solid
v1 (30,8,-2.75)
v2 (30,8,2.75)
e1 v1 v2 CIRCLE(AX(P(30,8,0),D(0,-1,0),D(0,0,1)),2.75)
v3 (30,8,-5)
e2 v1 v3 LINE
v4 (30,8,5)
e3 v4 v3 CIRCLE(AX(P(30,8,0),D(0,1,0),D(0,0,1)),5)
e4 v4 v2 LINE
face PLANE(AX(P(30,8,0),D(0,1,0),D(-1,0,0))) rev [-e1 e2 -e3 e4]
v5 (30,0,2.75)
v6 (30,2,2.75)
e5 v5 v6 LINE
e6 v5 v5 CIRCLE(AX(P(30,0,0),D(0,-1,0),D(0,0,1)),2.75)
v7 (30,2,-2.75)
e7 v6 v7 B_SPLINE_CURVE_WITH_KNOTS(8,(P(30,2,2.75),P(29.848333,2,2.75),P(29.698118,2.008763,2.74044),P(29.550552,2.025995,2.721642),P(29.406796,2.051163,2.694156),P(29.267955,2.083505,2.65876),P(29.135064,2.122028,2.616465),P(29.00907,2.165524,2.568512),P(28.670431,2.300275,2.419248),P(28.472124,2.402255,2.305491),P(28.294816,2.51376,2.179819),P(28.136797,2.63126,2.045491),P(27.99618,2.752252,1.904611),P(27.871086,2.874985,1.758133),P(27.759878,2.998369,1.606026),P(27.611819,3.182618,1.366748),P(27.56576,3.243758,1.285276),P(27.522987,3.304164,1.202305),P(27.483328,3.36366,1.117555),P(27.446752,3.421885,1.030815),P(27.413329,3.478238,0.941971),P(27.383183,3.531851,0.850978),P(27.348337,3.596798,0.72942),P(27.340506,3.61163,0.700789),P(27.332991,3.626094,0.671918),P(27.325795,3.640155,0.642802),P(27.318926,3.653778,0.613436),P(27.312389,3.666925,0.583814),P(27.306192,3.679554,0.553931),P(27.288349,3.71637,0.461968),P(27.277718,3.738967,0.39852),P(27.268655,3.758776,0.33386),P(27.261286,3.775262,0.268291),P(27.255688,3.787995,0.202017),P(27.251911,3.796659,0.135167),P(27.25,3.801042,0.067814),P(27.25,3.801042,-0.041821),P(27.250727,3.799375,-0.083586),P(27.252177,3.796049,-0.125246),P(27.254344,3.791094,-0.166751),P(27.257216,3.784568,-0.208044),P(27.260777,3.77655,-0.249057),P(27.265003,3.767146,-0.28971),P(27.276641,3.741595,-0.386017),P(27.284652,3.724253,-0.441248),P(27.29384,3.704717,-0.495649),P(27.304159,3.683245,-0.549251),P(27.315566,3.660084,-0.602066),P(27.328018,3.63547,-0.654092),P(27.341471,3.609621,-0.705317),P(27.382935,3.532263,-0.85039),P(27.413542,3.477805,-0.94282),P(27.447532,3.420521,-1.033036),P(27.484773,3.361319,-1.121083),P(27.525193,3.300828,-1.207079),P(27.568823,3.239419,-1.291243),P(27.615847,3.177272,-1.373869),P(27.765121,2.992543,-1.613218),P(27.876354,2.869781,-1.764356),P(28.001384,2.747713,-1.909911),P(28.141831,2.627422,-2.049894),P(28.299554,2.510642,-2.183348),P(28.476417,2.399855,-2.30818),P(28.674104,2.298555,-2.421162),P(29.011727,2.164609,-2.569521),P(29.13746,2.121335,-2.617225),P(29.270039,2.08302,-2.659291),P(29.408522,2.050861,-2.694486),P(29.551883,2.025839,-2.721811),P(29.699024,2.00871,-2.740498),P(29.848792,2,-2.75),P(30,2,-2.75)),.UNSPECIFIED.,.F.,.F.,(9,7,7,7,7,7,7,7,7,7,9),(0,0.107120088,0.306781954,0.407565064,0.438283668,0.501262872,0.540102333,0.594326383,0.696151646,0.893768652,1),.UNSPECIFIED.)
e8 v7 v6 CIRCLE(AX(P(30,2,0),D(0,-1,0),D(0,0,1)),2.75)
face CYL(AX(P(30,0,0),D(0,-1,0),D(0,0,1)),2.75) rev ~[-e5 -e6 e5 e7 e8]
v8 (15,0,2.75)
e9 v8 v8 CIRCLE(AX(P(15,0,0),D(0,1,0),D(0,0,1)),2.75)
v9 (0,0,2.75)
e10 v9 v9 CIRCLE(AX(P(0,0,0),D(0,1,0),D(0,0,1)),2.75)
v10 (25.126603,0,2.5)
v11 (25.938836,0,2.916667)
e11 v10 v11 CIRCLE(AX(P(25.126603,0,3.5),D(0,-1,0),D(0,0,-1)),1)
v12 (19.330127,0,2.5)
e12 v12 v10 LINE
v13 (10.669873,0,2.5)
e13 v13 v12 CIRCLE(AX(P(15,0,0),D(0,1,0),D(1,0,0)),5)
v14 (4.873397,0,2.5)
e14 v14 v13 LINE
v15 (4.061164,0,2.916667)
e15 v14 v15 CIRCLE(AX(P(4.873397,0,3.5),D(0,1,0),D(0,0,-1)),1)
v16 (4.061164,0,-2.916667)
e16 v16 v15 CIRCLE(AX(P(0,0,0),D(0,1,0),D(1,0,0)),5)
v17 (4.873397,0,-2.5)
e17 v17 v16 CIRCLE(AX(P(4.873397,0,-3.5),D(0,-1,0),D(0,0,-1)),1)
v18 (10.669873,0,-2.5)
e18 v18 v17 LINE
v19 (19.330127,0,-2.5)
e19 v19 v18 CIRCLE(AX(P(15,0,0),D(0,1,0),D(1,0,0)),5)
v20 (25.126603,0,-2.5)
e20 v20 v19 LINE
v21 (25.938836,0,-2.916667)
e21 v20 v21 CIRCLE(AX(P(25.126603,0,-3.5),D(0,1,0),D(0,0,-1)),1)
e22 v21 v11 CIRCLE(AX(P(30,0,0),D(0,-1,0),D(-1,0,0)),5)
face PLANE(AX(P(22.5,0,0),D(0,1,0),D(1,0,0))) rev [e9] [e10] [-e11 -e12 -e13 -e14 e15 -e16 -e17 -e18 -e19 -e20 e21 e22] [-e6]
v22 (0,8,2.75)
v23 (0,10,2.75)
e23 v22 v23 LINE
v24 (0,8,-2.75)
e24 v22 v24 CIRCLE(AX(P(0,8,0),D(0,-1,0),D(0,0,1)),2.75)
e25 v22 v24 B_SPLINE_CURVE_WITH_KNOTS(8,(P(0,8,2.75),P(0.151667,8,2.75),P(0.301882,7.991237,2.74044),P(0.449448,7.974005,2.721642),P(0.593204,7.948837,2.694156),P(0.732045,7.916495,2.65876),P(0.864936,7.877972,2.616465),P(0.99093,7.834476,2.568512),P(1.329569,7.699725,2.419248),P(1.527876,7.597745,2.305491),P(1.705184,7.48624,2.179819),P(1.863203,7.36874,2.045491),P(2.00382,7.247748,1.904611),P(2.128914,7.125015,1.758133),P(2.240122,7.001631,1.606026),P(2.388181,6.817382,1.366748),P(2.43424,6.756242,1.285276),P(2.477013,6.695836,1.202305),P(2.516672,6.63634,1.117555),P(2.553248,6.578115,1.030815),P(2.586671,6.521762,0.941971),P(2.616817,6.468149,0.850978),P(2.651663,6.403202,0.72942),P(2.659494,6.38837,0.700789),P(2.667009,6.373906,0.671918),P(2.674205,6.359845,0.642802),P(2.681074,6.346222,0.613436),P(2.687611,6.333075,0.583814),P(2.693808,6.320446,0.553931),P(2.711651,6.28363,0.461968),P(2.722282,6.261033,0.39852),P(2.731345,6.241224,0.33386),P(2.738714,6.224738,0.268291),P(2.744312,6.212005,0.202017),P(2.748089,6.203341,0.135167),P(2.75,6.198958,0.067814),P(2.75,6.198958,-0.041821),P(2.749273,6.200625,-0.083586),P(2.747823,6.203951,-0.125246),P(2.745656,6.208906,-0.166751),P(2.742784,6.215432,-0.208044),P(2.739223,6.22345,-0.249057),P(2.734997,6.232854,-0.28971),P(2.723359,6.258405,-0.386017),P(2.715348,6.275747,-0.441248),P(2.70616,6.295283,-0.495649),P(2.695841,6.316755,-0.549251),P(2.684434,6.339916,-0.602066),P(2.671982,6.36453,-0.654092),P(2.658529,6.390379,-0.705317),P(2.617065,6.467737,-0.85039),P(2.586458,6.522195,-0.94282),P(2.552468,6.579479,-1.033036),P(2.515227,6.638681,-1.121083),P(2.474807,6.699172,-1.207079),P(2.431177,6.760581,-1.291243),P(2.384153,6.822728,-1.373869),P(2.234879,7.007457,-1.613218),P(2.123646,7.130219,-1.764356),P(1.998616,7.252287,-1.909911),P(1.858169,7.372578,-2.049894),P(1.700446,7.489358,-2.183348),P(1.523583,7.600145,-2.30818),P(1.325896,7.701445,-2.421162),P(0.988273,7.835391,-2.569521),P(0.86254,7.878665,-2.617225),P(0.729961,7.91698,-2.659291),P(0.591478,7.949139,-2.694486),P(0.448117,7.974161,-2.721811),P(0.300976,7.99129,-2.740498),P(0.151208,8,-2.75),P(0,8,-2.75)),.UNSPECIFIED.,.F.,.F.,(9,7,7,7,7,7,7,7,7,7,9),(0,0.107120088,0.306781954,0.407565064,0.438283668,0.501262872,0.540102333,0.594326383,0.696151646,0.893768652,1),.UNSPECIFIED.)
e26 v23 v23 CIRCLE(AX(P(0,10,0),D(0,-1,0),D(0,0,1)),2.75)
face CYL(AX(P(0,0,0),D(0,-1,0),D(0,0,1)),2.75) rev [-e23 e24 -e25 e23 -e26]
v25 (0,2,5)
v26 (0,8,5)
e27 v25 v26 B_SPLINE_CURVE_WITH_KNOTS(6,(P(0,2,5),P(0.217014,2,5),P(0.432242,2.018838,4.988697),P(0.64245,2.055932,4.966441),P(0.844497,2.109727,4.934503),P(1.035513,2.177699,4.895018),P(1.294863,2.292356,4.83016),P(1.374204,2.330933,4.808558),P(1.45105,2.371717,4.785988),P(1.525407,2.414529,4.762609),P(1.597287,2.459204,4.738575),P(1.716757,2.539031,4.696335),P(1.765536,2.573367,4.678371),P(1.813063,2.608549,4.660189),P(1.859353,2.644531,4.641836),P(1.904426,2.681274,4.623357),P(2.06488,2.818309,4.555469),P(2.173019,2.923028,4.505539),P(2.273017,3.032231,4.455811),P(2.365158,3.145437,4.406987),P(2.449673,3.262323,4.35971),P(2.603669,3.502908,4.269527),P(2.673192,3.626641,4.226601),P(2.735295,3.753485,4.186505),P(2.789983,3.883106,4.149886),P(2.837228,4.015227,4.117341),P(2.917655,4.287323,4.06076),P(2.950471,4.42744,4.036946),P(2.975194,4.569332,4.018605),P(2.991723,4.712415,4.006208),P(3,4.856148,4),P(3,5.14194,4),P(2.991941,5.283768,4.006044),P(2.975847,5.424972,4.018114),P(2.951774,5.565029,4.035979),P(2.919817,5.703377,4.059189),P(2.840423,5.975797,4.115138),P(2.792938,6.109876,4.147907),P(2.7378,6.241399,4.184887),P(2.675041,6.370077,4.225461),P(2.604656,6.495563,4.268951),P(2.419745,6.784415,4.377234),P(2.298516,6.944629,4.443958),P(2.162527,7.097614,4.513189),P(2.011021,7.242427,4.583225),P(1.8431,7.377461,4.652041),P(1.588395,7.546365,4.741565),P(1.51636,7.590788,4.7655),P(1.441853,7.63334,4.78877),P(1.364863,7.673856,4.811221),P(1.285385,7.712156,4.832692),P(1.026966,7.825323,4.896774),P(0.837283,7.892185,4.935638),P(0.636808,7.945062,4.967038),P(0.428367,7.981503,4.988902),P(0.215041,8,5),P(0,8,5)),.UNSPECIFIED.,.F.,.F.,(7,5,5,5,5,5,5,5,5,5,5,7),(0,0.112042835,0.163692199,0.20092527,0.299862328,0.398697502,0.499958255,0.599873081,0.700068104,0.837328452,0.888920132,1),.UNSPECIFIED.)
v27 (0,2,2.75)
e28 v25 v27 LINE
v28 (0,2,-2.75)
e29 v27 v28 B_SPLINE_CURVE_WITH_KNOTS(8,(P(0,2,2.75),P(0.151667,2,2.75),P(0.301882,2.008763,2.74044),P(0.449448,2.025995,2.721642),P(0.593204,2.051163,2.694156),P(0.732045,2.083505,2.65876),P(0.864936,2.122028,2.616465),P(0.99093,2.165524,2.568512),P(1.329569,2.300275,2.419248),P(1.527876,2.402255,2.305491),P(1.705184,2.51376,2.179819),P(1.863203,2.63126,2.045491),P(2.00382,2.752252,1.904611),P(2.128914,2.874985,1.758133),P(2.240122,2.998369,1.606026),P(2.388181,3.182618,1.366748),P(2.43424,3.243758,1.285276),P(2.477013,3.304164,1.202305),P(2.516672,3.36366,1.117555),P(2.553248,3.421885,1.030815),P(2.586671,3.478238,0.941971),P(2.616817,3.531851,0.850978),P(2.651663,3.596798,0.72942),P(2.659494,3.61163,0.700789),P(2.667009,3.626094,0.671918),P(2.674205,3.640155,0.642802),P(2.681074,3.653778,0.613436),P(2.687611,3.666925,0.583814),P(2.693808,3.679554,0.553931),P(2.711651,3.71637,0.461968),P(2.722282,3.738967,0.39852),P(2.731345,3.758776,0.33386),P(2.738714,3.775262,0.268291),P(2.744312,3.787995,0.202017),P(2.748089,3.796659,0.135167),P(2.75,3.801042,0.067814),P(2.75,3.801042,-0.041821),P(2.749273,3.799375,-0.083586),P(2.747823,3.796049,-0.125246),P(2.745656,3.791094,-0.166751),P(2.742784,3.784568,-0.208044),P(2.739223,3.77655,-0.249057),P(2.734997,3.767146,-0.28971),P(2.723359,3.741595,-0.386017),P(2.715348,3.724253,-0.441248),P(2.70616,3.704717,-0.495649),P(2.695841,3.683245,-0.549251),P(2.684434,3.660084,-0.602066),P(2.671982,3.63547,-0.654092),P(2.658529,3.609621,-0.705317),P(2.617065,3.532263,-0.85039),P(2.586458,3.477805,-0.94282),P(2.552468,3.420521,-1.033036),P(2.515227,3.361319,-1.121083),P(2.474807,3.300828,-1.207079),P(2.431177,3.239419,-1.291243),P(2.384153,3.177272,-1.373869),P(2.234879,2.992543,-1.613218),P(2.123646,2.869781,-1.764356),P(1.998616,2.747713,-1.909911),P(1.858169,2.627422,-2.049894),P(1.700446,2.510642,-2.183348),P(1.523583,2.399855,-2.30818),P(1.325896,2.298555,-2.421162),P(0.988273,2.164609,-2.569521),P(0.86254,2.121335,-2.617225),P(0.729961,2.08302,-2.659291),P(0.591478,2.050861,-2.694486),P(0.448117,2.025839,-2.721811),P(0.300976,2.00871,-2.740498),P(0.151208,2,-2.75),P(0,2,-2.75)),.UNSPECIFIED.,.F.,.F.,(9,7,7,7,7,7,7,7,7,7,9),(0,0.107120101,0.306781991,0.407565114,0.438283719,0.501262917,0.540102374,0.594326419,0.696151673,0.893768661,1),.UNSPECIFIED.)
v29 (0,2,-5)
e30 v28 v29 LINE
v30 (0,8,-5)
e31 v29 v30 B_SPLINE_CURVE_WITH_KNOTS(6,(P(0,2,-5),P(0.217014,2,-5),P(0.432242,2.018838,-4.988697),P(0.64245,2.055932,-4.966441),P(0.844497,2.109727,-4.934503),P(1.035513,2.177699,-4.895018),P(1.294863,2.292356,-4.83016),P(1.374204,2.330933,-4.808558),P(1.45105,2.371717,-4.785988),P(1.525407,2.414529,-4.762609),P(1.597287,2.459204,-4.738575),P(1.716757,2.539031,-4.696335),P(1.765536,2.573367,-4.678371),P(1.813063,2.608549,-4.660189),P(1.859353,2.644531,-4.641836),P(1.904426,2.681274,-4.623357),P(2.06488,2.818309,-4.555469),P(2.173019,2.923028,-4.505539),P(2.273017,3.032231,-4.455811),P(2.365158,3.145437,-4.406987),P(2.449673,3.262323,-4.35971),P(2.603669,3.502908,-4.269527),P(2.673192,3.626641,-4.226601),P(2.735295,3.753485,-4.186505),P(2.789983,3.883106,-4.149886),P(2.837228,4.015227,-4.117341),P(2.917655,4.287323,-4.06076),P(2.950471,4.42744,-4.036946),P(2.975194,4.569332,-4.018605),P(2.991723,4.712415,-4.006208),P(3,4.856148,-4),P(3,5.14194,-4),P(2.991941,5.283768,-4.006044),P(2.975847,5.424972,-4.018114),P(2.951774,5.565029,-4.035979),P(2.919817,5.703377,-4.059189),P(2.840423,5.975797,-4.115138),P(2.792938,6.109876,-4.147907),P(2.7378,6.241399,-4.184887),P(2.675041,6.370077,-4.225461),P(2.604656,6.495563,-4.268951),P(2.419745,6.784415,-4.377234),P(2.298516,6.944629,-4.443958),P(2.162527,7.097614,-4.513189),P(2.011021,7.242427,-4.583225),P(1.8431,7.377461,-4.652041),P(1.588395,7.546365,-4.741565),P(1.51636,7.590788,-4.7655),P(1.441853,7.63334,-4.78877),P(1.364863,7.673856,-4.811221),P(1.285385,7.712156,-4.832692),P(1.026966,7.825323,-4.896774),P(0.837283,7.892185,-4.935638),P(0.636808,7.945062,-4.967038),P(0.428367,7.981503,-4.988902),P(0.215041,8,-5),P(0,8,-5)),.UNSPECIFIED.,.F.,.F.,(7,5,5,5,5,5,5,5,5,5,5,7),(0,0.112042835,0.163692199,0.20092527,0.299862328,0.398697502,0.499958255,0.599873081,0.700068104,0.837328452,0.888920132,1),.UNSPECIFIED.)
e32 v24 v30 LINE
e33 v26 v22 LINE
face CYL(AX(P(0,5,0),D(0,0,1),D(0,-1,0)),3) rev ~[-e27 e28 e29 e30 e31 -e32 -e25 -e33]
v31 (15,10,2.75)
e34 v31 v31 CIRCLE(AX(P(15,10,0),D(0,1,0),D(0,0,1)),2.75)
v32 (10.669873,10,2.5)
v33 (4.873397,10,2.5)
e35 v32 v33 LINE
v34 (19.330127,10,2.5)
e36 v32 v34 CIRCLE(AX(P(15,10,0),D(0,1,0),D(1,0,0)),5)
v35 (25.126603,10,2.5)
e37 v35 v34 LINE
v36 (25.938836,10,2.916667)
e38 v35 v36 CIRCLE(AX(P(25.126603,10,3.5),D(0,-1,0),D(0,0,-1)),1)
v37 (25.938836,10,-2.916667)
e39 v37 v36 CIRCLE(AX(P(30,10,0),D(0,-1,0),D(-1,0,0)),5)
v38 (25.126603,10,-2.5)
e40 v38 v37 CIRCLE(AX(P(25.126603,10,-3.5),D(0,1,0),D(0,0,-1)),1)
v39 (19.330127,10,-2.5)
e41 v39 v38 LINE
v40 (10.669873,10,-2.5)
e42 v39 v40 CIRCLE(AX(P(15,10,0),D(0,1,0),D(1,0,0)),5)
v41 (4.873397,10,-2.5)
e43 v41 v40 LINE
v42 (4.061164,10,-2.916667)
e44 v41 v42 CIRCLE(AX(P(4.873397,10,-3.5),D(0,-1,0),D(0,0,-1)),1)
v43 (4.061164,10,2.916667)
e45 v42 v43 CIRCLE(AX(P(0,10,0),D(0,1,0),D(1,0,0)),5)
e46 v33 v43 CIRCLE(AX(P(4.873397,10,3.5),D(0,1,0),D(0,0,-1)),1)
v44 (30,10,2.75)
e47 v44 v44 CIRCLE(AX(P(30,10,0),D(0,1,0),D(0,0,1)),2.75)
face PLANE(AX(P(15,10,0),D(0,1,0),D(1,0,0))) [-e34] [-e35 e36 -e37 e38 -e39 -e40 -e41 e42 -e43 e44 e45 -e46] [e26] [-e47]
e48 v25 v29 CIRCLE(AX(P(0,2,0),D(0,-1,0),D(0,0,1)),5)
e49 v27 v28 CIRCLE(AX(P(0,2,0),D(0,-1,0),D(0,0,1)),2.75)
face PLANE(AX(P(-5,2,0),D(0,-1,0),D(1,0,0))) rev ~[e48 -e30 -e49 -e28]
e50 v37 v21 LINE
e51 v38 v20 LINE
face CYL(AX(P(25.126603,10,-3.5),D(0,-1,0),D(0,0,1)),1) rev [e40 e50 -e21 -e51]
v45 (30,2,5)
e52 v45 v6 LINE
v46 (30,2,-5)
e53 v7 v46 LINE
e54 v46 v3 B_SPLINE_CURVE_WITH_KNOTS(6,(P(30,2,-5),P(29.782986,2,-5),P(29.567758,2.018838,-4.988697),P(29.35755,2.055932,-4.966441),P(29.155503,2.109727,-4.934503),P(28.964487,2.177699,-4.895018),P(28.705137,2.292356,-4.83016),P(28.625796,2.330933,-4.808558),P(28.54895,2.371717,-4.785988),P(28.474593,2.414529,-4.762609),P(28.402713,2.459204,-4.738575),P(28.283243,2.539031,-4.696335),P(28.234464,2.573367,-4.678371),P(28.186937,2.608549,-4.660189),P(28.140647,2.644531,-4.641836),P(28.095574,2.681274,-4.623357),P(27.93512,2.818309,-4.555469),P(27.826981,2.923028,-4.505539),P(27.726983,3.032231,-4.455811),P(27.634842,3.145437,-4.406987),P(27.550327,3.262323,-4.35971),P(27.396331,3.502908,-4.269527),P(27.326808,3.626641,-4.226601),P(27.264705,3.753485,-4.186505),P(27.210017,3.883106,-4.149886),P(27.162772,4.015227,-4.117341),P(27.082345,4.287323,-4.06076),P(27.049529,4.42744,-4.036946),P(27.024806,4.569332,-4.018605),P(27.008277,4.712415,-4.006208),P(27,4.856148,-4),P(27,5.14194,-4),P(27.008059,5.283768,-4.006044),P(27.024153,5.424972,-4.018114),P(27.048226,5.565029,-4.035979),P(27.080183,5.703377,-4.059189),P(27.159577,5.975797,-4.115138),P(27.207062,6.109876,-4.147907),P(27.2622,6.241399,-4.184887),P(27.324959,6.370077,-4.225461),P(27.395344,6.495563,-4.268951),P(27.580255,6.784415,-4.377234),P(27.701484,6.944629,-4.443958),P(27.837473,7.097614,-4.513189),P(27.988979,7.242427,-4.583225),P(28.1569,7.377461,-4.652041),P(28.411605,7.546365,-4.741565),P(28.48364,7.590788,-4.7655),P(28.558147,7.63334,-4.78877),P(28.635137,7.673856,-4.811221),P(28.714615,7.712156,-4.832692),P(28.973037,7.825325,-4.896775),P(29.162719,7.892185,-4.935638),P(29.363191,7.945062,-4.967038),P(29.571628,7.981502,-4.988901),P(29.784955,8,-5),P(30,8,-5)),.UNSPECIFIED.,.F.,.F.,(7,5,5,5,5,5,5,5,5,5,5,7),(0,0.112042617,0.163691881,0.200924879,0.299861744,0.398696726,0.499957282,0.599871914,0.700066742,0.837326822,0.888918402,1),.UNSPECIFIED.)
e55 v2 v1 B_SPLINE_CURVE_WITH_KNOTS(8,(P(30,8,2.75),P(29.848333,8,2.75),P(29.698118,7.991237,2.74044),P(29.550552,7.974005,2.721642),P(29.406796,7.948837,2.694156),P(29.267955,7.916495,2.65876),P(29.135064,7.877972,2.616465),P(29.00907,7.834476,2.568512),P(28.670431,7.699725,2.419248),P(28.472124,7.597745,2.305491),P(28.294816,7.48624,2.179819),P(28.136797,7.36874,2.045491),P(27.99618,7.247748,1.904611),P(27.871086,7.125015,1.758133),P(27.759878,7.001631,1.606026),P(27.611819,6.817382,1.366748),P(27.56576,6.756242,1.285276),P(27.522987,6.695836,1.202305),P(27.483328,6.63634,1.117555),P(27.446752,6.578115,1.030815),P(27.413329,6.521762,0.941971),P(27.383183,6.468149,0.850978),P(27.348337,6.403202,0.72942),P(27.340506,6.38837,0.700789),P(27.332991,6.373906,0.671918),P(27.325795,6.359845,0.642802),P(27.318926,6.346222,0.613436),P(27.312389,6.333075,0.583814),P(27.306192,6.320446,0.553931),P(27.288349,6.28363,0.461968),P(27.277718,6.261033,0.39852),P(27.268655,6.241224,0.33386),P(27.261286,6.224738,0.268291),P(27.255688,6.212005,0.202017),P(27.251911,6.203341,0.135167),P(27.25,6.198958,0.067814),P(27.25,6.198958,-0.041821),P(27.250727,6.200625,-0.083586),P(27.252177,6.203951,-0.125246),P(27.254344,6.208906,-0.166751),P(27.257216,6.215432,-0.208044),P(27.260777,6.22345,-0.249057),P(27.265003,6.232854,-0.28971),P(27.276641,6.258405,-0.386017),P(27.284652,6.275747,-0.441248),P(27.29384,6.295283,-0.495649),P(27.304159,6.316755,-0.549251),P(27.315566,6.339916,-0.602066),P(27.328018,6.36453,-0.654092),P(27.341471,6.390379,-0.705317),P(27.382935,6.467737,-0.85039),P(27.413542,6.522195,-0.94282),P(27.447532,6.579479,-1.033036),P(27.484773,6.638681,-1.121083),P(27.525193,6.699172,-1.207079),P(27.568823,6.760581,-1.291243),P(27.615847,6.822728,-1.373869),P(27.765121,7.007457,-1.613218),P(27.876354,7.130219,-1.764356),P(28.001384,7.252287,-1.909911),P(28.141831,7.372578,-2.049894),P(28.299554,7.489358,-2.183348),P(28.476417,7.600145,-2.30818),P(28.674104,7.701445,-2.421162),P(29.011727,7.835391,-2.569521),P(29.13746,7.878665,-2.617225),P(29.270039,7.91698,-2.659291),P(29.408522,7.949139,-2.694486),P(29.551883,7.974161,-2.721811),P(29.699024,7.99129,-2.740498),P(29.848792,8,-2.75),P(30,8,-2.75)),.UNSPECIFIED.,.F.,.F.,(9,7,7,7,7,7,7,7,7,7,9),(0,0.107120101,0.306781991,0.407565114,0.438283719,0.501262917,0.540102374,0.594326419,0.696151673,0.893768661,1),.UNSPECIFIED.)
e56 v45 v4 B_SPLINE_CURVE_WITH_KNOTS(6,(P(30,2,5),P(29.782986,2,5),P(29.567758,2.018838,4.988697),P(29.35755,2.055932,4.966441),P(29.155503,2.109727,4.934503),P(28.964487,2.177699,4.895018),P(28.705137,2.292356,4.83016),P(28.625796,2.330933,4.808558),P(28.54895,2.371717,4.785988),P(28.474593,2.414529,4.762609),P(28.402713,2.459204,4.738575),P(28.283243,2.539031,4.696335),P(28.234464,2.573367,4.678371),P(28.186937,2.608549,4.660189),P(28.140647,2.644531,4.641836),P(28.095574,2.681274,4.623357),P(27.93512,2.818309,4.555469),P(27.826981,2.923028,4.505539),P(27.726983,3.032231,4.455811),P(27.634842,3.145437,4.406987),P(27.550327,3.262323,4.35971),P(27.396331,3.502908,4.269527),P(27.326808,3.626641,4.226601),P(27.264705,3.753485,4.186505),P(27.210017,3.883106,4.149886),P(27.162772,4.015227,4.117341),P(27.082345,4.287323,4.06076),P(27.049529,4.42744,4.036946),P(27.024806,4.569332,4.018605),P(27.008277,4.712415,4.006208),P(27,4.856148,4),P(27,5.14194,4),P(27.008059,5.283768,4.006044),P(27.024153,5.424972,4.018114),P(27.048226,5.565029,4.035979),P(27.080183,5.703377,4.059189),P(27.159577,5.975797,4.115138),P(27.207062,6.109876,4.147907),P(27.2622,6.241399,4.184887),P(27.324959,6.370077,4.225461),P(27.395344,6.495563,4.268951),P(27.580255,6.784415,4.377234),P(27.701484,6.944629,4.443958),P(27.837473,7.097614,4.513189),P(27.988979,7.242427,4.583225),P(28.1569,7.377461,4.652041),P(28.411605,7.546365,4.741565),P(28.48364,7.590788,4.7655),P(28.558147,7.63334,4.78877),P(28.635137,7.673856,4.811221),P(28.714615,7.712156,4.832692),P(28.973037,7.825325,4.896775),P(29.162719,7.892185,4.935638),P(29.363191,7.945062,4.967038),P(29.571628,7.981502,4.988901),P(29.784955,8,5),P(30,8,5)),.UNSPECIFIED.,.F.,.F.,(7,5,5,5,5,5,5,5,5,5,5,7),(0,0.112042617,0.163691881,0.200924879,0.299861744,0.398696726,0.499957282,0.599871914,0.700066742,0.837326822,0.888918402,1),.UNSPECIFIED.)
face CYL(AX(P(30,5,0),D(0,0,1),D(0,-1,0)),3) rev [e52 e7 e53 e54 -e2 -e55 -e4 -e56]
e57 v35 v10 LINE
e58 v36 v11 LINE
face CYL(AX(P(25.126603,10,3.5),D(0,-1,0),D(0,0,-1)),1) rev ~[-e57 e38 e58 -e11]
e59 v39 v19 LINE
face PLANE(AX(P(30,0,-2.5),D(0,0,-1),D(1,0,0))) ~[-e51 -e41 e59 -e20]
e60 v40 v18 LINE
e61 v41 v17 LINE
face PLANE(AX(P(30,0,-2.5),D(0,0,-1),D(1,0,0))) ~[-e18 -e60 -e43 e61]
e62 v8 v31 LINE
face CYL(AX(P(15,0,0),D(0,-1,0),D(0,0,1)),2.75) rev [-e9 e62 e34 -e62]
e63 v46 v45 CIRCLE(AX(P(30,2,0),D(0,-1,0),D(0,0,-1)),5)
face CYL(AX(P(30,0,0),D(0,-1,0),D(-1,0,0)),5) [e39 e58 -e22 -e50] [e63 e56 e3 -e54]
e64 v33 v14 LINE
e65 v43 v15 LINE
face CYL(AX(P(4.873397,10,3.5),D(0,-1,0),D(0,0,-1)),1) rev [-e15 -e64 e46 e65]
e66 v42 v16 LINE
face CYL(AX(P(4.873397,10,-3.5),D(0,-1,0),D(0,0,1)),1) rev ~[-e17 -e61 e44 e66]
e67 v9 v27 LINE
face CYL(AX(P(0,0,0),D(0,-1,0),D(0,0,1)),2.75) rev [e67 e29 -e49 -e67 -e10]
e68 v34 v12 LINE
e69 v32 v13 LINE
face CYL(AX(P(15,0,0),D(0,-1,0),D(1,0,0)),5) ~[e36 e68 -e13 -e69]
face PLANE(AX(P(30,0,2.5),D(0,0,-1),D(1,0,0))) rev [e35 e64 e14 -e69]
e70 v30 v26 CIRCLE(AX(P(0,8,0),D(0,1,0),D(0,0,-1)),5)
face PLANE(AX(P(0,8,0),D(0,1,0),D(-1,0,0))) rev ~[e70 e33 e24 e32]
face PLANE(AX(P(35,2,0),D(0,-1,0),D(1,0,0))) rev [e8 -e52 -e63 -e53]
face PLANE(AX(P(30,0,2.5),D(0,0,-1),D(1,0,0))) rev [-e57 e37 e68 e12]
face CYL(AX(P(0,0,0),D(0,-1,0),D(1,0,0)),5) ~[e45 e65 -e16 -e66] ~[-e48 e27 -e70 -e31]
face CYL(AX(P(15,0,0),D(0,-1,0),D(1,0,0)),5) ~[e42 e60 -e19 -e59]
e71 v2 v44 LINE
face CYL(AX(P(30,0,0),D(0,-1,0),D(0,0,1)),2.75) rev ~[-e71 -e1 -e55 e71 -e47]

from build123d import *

# Parameters (mm, degrees)
SKETCH1_W            = 15
SKETCH1_H            = 5
BOSS_EXTRUDE1_DEPTH  = 10
SKETCH2_R            = 5
BOSS_EXTRUDE2_DEPTH  = 10
CUT_EXTRUDE1_REACH   = 20.708
SKETCH3_R            = 2.75
CUT_EXTRUDE2_DEPTH   = 19.708286934
FILLET1_R            = 1
FILLET1_OF_MIRROR1_R = 1
SKETCH6_R            = 5
BOSS_EXTRUDE3_DEPTH  = 10
SKETCH7_R            = 2.75
CUT_EXTRUDE3_DEPTH   = 10


with BuildPart() as part:
    # Sketch1 → Boss-Extrude1 (new body)
    with BuildSketch(Plane(origin=(0, 0, 0), x_dir=(1, 0, 0), z_dir=(0, 1, 0))):
        with Locations((7.5, 0)):
            Rectangle(SKETCH1_W, SKETCH1_H)
    boss_extrude1 = extrude(amount=BOSS_EXTRUDE1_DEPTH)

    # Sketch2 → Boss-Extrude2 (add)
    with BuildSketch(Plane(origin=(0, 0, 0), x_dir=(1, 0, 0), z_dir=(0, 1, 0))):
        Circle(SKETCH2_R)
    boss_extrude2 = extrude(amount=BOSS_EXTRUDE2_DEPTH)

    # Sketch3 → Cut-Extrude1 (cut, up to next)
    with BuildSketch(Plane(origin=(0, 0, 0), x_dir=(1, 0, 0), z_dir=(0, 1, 0)), mode=Mode.PRIVATE) as cut_extrude1_sk1:
        with Locations(Location((0, 0, 0), (0, 0, 270))):
            Circle(SKETCH3_R)
    cut_extrude1_tool1 = extrude(cut_extrude1_sk1.sketch, amount=CUT_EXTRUDE1_REACH, mode=Mode.PRIVATE) & part.part
    cut_extrude1 = cut_extrude1_tool1.solids().sort_by_distance((0, 0, 0))[0]
    add(cut_extrude1, mode=Mode.SUBTRACT)

    # Sketch4 → Cut-Extrude2 (cut, symmetric)
    with BuildSketch(Plane.XY):
        with BuildLine():
            Line((0, 8), (-5, 8))
            Line((-5, 8), (-5, 2))
            Line((-5, 2), (0, 2))
            ThreePointArc((0, 2), (3, 5), (0, 8))
        make_face()
    cut_extrude2 = extrude(amount=CUT_EXTRUDE2_DEPTH, both=True, mode=Mode.SUBTRACT)

    # Fillet1
    fillet1_edges = [part.edges().sort_by_distance(p)[0] for p in [
        (4.330127019, 5, 2.5),
        (4.330127019, 5, -2.5),
    ]]
    fillet(fillet1_edges, radius=FILLET1_R)

    # Mirror1: Boss-Extrude1, Boss-Extrude2, Cut-Extrude1, Cut-Extrude2 across plane
    add(boss_extrude1.mirror(Plane(origin=(15, 10, -2.5), x_dir=(0, 0, 1), z_dir=(-1, 0, 0))))
    add(boss_extrude2.mirror(Plane(origin=(15, 10, -2.5), x_dir=(0, 0, 1), z_dir=(-1, 0, 0))))
    add(cut_extrude1.mirror(Plane(origin=(15, 10, -2.5), x_dir=(0, 0, 1), z_dir=(-1, 0, 0))), mode=Mode.SUBTRACT)
    add(cut_extrude2.mirror(Plane(origin=(15, 10, -2.5), x_dir=(0, 0, 1), z_dir=(-1, 0, 0))), mode=Mode.SUBTRACT)

    # Fillet1 of Mirror1
    fillet1_of_mirror1_edges = [part.edges().sort_by_distance(p)[0] for p in [
        (25.669872981, 5, 2.5),
        (25.669872981, 5, -2.5),
    ]]
    fillet(fillet1_of_mirror1_edges, radius=FILLET1_OF_MIRROR1_R)

    # Sketch6 → Boss-Extrude3 (add)
    with BuildSketch(Plane(origin=(0, 0, 0), x_dir=(1, 0, 0), z_dir=(0, 1, 0))):
        with Locations((15, 0)):
            Circle(SKETCH6_R)
    extrude(amount=BOSS_EXTRUDE3_DEPTH)

    # Sketch7 → Cut-Extrude3 (cut)
    with BuildSketch(Plane(origin=(0, 0, 0), x_dir=(1, 0, 0), z_dir=(0, 1, 0))):
        with Locations(Location((15, 0, 0), (0, 0, 270))):
            Circle(SKETCH7_R)
    extrude(amount=CUT_EXTRUDE3_DEPTH, mode=Mode.SUBTRACT)


solid = part.part
